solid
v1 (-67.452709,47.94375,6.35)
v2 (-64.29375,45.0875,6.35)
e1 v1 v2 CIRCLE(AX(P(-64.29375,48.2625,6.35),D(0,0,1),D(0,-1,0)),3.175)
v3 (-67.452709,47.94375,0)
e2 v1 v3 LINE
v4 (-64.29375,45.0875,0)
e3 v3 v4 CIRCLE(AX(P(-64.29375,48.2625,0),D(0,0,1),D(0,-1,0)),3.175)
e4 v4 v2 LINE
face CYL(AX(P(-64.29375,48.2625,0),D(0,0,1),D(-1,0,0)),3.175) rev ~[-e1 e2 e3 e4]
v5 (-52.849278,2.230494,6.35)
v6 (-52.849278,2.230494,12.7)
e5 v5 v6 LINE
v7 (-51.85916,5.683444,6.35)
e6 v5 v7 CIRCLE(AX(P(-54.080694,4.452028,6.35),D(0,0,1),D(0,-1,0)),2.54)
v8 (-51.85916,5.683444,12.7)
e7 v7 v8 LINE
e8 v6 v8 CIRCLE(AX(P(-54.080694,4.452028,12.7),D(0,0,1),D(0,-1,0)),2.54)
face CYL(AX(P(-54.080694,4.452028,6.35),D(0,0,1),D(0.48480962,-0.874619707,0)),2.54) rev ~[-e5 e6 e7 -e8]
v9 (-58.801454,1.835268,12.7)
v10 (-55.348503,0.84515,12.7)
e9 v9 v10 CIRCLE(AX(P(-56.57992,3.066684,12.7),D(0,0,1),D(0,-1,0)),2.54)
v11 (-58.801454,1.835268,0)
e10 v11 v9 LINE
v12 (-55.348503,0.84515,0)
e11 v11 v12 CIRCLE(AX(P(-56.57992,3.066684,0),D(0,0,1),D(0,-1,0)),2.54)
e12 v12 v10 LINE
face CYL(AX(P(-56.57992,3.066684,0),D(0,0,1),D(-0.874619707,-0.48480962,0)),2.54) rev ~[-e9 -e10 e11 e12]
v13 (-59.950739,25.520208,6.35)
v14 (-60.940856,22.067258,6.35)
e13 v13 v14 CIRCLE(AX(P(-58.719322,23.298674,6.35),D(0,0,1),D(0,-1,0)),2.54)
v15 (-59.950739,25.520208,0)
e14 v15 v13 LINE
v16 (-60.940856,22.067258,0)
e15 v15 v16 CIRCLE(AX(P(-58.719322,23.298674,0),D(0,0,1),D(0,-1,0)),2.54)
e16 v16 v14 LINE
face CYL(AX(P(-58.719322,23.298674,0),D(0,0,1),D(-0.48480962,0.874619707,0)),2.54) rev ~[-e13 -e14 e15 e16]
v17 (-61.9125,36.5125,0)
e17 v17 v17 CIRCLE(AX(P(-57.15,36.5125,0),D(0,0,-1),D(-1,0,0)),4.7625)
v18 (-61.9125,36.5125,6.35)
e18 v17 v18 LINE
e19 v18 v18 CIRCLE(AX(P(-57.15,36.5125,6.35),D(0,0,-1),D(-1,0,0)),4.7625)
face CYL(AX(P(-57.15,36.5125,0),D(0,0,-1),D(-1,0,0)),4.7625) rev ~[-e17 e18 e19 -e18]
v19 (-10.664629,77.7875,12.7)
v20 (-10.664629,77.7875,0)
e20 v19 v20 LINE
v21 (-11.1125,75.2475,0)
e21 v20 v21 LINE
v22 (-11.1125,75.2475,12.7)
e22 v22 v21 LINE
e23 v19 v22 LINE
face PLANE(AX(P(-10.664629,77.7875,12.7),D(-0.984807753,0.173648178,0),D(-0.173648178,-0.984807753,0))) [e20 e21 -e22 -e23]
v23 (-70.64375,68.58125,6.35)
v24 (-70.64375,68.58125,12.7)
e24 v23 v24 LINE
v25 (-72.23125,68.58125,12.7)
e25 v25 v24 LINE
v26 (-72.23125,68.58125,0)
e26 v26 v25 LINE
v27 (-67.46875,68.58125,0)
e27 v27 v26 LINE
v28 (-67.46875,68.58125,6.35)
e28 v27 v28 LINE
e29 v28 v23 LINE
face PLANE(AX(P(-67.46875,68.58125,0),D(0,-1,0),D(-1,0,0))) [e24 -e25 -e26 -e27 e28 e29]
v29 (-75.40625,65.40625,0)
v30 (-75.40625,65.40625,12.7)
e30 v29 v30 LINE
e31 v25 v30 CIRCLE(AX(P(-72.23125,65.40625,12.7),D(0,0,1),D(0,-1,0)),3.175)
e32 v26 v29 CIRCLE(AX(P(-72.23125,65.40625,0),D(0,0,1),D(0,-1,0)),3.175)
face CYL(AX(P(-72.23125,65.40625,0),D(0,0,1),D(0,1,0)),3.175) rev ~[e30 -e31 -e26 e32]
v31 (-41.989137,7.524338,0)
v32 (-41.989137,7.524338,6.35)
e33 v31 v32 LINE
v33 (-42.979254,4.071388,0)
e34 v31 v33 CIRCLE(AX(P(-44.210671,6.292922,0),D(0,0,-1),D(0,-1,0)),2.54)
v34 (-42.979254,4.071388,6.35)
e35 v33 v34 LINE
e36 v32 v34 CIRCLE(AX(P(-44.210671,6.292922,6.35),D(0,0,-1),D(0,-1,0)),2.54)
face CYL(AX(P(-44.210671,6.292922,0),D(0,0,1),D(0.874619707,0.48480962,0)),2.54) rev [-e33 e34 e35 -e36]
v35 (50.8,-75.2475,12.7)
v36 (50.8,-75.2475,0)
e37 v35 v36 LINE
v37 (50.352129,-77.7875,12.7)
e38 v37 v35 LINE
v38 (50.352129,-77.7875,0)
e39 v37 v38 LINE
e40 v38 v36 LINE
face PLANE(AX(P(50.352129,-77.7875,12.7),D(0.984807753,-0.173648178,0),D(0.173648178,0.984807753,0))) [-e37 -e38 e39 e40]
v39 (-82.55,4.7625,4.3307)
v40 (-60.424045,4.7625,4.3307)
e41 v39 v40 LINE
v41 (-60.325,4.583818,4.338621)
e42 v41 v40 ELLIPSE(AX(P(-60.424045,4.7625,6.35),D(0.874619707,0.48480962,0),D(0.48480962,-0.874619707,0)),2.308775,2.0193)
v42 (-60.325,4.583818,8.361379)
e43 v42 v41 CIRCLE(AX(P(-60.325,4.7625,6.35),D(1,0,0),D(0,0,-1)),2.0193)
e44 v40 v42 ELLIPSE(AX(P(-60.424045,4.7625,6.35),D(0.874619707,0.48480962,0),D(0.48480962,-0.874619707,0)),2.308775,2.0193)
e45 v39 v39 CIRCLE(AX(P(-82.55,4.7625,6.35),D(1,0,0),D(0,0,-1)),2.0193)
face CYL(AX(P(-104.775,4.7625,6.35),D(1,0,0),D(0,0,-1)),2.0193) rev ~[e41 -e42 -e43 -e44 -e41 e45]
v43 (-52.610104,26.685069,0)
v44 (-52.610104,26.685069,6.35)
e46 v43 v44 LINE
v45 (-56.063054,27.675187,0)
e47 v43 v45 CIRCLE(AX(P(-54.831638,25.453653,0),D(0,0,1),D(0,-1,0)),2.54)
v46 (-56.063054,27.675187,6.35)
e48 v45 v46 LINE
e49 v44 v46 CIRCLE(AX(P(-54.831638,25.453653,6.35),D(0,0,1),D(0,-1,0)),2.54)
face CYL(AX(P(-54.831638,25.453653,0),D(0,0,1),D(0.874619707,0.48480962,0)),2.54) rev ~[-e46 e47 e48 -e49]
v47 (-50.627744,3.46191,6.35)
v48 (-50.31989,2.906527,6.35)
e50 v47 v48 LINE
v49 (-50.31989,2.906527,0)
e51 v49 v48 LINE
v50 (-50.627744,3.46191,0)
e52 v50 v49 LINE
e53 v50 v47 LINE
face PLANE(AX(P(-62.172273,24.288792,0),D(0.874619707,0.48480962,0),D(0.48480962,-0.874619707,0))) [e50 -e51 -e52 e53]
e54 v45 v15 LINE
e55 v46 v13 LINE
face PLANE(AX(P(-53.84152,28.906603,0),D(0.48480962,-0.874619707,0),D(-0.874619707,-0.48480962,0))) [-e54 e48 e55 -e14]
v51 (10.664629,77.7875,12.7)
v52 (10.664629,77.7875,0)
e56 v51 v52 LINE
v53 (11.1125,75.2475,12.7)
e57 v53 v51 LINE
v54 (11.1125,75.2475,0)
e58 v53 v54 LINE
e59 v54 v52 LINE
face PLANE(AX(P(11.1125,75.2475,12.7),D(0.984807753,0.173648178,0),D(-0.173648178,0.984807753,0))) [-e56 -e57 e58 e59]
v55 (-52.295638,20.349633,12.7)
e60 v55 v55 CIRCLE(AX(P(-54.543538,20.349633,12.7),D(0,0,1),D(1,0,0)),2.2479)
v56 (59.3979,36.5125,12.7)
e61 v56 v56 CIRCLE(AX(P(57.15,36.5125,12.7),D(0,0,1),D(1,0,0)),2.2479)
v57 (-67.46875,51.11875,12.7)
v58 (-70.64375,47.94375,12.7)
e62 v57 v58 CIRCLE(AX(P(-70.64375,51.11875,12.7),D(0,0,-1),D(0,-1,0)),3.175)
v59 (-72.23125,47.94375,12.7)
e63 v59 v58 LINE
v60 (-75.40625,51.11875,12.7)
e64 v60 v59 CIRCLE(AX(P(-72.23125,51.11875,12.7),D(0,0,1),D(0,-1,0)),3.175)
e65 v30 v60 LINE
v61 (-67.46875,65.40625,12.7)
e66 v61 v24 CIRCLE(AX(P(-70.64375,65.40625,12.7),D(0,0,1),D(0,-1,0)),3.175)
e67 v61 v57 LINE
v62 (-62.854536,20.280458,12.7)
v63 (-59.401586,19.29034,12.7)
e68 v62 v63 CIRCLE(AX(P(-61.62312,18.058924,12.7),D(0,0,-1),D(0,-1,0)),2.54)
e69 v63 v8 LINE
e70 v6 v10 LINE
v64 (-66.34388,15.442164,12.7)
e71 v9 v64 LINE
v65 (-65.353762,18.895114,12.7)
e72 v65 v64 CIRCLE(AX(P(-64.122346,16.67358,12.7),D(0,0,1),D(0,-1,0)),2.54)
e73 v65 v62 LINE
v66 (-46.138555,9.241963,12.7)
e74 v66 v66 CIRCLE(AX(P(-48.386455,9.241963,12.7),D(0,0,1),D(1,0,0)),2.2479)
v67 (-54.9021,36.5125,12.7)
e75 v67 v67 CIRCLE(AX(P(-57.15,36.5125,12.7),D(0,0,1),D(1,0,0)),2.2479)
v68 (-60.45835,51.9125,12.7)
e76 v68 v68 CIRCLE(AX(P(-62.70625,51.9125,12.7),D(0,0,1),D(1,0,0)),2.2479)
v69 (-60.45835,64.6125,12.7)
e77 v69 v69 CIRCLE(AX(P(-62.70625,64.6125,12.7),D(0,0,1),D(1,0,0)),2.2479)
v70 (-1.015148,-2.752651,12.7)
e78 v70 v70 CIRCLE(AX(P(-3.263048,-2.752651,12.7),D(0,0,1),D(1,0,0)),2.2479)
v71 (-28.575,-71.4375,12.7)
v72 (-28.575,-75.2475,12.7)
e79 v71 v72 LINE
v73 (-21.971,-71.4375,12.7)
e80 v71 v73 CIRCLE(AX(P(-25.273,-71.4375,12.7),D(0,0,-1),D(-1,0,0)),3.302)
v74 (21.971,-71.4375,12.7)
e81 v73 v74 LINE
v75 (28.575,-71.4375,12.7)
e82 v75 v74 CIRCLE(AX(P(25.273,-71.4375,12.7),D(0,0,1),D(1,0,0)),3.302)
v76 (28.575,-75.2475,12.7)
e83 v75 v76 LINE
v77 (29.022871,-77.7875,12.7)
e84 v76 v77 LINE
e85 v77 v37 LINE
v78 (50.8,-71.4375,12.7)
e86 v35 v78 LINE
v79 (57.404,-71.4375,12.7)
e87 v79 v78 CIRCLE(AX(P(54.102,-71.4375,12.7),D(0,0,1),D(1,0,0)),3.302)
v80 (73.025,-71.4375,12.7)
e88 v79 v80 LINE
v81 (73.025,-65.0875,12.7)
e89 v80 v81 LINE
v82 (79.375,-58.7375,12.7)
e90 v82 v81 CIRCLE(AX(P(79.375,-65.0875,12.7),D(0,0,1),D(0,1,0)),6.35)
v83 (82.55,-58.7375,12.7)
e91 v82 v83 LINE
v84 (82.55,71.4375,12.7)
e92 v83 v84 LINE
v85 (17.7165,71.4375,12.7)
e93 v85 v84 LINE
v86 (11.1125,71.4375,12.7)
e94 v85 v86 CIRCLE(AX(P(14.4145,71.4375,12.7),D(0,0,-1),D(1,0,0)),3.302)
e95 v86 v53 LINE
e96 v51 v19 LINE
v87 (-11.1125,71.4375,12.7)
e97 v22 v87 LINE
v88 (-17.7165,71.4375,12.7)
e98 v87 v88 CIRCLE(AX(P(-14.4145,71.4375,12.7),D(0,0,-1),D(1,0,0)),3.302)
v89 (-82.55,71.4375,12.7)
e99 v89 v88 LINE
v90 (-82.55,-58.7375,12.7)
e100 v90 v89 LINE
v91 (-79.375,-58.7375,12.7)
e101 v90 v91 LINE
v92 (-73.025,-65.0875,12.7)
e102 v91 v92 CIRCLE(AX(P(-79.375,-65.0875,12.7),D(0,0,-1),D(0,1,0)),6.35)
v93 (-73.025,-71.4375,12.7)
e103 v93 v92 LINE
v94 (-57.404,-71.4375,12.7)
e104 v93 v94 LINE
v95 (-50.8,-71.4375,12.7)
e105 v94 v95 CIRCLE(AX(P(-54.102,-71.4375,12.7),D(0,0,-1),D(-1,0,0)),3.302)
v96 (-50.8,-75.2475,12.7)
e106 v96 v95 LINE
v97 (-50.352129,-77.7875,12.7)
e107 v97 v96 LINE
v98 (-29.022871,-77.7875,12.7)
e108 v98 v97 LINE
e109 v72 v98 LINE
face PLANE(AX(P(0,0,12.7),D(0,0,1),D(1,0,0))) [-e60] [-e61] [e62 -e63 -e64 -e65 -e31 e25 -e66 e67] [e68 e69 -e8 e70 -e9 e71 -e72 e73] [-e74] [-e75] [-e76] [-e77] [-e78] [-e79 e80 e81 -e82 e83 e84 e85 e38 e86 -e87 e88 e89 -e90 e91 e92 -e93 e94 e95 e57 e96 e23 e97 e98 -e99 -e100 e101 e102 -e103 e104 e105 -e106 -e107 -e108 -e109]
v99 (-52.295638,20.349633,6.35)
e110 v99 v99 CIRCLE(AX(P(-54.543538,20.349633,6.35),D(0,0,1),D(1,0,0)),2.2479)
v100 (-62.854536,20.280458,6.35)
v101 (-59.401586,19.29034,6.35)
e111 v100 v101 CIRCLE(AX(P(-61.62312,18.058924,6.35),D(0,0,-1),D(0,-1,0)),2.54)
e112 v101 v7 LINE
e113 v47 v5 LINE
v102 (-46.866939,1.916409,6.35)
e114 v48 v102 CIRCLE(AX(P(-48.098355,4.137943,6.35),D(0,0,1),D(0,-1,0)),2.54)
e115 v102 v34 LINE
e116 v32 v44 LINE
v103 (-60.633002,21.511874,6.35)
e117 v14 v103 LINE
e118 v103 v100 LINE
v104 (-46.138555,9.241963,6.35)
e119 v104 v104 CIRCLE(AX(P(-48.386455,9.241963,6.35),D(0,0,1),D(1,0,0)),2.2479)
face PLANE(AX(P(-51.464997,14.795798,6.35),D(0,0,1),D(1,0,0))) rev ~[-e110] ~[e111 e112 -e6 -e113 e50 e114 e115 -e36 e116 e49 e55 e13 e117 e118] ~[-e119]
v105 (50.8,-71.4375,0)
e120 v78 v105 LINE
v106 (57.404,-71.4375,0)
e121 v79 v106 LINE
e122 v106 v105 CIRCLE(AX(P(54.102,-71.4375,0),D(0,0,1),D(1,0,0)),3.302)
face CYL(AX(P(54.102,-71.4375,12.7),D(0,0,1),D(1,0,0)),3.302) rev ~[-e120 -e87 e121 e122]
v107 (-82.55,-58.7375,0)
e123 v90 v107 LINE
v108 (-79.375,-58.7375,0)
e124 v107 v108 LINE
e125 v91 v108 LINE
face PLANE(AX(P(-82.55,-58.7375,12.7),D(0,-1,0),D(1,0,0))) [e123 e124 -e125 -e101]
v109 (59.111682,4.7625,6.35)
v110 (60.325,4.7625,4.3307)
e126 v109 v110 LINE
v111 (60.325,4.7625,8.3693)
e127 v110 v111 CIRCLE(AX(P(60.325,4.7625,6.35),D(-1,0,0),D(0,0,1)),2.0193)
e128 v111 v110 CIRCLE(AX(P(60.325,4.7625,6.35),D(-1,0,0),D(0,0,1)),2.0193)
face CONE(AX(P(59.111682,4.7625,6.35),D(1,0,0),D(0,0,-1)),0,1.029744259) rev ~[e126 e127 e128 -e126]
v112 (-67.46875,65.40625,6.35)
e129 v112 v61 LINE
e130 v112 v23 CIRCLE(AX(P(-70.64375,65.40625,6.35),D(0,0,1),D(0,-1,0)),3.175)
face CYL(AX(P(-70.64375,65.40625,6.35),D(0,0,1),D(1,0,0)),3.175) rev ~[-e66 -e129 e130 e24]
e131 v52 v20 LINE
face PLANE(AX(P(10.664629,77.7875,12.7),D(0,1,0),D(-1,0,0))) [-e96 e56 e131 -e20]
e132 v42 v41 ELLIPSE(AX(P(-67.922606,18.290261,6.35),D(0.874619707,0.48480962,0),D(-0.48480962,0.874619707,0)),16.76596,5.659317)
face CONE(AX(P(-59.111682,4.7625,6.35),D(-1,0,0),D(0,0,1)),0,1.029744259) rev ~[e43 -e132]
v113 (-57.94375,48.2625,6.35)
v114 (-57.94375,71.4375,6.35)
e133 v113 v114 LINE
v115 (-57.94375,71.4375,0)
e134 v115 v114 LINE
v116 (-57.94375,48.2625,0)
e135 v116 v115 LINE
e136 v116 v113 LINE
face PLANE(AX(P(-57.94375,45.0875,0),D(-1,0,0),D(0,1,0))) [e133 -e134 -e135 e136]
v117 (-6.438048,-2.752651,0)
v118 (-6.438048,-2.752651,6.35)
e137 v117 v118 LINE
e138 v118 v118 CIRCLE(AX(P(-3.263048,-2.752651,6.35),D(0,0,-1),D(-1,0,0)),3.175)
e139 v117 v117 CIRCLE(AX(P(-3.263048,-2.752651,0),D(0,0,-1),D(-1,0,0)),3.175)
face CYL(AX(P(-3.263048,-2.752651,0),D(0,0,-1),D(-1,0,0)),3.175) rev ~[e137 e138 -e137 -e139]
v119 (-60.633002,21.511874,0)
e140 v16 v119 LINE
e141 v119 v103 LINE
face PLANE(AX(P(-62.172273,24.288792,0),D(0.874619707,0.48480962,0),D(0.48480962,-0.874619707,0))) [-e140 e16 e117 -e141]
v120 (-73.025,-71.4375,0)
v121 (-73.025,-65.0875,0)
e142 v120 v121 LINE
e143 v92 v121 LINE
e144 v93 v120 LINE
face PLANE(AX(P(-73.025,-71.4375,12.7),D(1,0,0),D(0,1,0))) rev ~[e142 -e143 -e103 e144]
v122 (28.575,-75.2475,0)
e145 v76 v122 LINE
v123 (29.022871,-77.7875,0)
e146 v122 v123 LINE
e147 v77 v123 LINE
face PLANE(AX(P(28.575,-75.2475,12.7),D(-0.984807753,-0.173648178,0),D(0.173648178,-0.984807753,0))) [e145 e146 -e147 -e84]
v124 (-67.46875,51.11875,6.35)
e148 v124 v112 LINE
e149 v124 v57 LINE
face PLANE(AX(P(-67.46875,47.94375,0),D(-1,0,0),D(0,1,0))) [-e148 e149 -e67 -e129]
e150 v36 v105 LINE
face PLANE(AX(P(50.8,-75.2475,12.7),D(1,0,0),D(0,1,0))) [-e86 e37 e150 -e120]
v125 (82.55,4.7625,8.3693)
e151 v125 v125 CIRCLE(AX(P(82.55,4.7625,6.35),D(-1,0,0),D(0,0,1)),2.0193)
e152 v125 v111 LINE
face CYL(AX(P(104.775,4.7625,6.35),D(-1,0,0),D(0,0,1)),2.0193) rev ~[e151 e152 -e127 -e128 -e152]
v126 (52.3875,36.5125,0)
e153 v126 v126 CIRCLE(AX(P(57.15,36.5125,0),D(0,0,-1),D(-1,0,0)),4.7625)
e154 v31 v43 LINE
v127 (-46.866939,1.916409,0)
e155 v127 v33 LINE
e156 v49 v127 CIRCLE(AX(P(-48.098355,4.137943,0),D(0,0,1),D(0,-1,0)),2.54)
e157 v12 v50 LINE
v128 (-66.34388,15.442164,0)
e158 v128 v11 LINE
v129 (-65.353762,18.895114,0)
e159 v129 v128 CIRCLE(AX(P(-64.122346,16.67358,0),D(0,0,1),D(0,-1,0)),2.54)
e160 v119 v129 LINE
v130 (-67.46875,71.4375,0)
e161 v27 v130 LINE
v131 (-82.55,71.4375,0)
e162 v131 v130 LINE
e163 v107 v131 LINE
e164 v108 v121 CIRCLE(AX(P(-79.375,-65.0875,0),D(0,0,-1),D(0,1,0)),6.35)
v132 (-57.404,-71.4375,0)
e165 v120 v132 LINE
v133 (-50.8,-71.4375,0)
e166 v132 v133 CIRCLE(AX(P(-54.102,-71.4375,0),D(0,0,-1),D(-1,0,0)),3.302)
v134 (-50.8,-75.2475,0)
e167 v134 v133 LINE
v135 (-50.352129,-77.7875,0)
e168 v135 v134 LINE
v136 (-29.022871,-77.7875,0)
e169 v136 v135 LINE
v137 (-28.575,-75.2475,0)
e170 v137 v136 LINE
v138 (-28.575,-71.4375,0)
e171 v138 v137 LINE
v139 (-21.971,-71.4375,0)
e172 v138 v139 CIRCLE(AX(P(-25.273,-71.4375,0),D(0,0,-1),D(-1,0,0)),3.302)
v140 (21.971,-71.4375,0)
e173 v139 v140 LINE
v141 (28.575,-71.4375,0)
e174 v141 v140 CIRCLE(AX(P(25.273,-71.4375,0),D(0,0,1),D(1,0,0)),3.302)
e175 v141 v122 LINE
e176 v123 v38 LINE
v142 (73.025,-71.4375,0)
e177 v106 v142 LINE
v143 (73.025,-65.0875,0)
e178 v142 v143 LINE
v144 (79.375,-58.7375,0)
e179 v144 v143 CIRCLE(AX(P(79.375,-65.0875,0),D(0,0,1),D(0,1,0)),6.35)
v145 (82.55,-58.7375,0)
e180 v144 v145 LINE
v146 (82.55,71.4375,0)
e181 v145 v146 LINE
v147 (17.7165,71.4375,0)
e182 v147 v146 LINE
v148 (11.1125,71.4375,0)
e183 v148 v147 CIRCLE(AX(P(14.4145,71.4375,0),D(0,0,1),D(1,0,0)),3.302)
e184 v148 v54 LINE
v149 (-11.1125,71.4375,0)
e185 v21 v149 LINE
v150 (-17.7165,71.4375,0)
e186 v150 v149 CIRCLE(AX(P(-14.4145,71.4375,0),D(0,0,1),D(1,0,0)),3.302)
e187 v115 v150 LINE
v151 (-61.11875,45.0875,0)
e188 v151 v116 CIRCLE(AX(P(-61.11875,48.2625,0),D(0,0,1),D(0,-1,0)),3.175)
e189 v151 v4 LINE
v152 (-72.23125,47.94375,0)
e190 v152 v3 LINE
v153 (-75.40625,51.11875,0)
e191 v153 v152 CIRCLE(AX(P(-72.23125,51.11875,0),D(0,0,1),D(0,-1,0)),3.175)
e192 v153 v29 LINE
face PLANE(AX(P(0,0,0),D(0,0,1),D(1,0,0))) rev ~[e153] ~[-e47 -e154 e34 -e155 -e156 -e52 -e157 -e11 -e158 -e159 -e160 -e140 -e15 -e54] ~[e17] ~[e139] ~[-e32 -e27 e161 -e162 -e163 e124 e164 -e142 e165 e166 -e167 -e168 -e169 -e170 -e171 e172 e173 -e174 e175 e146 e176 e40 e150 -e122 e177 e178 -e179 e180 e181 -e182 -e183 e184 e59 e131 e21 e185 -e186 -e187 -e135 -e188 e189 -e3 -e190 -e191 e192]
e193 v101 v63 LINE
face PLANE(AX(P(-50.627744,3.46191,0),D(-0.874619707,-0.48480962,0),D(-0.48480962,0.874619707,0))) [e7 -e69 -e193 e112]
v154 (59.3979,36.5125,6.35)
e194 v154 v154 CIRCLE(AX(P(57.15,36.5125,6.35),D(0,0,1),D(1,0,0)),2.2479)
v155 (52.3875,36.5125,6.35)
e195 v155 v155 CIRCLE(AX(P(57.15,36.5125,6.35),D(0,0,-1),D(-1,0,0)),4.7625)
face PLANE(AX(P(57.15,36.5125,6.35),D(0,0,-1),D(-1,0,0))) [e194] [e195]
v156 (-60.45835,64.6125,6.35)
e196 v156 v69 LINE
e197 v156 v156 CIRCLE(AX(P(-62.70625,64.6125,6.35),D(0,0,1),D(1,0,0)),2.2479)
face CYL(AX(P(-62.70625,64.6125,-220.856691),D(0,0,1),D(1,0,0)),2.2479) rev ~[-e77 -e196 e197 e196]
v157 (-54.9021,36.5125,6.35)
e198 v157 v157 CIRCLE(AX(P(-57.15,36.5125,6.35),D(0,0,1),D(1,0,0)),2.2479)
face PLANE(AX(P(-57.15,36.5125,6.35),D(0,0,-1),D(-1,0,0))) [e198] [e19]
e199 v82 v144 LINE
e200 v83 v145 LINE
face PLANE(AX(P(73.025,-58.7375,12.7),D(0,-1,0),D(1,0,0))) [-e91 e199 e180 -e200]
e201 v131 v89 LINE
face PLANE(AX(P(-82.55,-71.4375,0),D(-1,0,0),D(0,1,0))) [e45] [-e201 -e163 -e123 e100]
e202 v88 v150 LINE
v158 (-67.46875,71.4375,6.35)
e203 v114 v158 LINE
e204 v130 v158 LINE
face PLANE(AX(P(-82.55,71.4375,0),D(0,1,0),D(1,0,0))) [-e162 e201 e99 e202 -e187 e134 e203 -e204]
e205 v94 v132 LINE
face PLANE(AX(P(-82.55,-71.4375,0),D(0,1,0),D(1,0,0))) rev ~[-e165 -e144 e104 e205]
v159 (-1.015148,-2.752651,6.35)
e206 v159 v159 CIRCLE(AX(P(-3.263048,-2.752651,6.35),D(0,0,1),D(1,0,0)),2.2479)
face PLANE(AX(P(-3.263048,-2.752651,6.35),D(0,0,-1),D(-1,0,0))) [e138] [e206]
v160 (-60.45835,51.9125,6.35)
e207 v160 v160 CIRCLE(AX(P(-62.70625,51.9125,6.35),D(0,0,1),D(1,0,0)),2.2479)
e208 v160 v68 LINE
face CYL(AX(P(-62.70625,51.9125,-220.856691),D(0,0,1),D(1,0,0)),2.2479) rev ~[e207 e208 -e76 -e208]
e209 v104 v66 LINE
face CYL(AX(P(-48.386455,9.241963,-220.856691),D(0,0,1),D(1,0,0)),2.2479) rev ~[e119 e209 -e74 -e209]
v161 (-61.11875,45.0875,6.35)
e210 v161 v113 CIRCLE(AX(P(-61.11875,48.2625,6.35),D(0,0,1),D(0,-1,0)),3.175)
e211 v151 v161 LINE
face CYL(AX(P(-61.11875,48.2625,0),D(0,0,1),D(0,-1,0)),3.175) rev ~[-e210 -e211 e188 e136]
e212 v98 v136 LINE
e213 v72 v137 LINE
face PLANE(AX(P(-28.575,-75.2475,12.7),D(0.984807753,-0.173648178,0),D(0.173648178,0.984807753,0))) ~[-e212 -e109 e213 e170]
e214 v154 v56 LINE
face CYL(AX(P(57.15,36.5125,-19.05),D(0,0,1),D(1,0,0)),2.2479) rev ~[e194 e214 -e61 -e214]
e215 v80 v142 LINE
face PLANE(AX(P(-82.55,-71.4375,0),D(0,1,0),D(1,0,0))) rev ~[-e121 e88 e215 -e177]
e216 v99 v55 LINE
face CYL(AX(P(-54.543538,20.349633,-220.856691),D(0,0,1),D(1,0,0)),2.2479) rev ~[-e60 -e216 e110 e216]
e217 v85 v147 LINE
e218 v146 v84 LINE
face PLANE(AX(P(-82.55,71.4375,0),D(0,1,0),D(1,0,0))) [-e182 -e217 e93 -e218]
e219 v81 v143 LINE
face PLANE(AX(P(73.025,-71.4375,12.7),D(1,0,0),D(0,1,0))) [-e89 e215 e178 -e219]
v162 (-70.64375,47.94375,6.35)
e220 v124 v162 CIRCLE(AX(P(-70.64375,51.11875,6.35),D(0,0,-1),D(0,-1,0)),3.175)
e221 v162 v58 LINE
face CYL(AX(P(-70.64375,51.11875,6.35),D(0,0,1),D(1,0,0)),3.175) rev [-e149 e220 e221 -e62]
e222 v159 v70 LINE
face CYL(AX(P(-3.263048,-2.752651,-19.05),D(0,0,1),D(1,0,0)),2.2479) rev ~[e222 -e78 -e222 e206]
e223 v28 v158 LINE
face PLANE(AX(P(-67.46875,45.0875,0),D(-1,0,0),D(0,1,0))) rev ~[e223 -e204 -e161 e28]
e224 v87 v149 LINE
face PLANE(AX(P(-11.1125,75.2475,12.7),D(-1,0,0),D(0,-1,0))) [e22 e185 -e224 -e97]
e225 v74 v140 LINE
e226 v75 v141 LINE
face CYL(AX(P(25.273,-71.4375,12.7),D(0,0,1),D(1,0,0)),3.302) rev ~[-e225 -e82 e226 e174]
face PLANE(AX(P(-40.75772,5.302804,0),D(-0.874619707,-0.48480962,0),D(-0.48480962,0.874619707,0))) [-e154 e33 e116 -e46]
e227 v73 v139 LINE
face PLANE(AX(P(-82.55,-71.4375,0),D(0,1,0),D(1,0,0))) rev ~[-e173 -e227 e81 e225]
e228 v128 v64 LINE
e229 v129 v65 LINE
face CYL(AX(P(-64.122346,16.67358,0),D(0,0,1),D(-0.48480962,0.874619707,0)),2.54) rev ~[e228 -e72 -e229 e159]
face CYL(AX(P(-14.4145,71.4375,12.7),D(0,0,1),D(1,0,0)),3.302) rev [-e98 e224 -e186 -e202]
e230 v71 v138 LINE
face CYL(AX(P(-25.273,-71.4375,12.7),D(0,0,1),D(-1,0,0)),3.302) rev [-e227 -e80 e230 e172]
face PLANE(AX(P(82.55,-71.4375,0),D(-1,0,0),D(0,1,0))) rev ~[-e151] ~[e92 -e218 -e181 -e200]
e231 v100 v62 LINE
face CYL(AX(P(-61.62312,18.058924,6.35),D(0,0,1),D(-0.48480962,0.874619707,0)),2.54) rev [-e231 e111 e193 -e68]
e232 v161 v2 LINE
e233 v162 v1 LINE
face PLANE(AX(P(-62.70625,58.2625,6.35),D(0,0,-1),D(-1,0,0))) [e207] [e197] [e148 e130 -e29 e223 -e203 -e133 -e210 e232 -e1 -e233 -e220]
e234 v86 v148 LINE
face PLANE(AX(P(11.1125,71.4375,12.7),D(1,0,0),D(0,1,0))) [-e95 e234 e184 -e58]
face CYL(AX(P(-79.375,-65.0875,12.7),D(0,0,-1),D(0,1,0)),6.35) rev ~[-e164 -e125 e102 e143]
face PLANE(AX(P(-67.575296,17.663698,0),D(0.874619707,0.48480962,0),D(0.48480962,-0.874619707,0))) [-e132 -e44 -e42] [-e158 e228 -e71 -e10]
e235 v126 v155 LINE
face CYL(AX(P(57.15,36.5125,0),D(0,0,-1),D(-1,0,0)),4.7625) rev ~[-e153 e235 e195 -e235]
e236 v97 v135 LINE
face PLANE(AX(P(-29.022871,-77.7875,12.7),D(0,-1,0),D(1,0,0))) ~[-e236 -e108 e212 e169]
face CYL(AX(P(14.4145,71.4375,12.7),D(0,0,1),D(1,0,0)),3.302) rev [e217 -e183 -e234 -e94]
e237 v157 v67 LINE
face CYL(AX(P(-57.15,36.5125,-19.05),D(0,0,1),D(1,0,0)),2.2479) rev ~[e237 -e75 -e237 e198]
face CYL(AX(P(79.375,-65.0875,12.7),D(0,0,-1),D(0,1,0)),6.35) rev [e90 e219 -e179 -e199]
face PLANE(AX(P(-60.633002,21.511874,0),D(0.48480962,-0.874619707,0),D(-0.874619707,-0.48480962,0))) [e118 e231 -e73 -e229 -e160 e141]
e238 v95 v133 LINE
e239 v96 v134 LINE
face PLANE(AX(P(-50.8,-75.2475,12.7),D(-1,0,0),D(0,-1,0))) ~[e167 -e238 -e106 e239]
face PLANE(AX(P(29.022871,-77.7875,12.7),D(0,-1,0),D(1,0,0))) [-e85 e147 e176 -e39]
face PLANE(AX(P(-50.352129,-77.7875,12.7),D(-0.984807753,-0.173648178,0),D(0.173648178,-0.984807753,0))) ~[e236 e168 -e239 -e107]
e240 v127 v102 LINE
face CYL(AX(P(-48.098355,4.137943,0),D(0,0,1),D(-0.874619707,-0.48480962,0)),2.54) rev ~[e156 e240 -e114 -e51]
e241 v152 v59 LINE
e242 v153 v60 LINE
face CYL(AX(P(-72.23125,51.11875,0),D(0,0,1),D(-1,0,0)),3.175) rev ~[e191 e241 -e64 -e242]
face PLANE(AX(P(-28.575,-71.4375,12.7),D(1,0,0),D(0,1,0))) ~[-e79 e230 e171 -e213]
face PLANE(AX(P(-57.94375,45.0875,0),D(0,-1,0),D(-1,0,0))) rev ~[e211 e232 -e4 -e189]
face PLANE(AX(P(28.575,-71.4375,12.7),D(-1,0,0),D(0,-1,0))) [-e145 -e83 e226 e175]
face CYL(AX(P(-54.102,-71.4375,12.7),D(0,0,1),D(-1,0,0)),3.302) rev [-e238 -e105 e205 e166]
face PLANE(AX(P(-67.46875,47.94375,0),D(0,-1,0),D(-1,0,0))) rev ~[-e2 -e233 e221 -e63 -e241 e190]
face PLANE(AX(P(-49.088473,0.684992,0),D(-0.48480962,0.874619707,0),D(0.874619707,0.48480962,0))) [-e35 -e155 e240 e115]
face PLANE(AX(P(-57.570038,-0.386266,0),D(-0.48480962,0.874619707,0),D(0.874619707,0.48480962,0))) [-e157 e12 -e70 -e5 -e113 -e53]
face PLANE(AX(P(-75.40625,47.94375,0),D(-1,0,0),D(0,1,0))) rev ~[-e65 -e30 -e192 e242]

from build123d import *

# Parameters (mm, degrees)
SKETCH1_W                       = 165.1
SKETCH1_H                       = 142.875
BOSS_EXTRUDE1_DEPTH             = 12.7
BOSS_EXTRUDE2_DEPTH             = 12.7
CUT_EXTRUDE1_REACH              = 116.135
BOSS_EXTRUDE3_DEPTH             = 12.7
CUT_EXTRUDE2_DEPTH              = 12.7
F_21_0_159_DIAMETER_HOLE1_D     = 4.0386
F_21_0_159_DIAMETER_HOLE1_DEPTH = 22.225
F_21_0_159_DIAMETER_HOLE1_TIP   = 1.213317848
F_21_0_159_DIAMETER_HOLE2_D     = 4.0386
F_21_0_159_DIAMETER_HOLE2_DEPTH = 22.225
F_21_0_159_DIAMETER_HOLE2_TIP   = 1.213317848
SKETCH21_R                      = 4.7625
SKETCH21_R_2                    = 3.175
CUT_EXTRUDE10_DEPTH             = 6.35
F_8_CLEARANCE_HOLE1_D           = 4.4958
F_8_CLEARANCE_HOLE1_DEPTH       = 19.05
F_8_CLEARANCE_HOLE1_TIP         = 1.350674586
SKETCH24_W                      = 9.525
SKETCH24_H                      = 12.7
CUT_EXTRUDE11_DEPTH             = 115.134515622
FILLET1_R                       = 6.35
SKETCH29_W                      = 9.525
SKETCH29_H                      = 26.350000132
CUT_EXTRUDE12_DEPTH             = 6.35
FILLET2_R                       = 3.175
F_8_CLEARANCE_HOLE2_D           = 4.4958
SKETCH32_W                      = 7.9375
SKETCH32_H                      = 20.6375
CUT_EXTRUDE13_DEPTH             = 115.134515622
CUT_EXTRUDE14_START             = -6.35
CUT_EXTRUDE14_DEPTH             = 6.35
FILLET3_R                       = 3.175
CUT_EXTRUDE15_DEPTH             = 6.35
F_8_CLEARANCE_HOLE3_D           = 4.4958
CUT_EXTRUDE16_DEPTH             = 115.134515622
FILLET4_R                       = 2.54


with BuildPart() as part:
    # Sketch1 → Boss-Extrude1 (new body)
    with BuildSketch(Plane.XY):
        Rectangle(SKETCH1_W, SKETCH1_H)
    extrude(amount=BOSS_EXTRUDE1_DEPTH)

    # Sketch2 → Boss-Extrude2 (add)
    with BuildSketch(Plane.XY.offset(12.7)):
        Polygon((-11.1125, 71.4375), (11.1125, 71.4375), (11.1125, 75.2475), (10.664629469, 77.7875), (-10.664629469, 77.7875), (-11.1125, 75.2475), align=None)
    extrude(amount=-BOSS_EXTRUDE2_DEPTH)

    # Sketch4 → Cut-Extrude1 (cut, up to next)
    with BuildSketch(Plane.XY.offset(12.7), mode=Mode.PRIVATE) as cut_extrude1_sk1:
        with BuildLine():
            Line((-17.7165, 71.4375), (-11.1125, 71.4375))
            ThreePointArc((-11.1125, 71.4375), (-14.4145, 68.1355), (-17.7165, 71.4375))
        make_face()
    cut_extrude1_tool1 = extrude(cut_extrude1_sk1.sketch, amount=-CUT_EXTRUDE1_REACH, mode=Mode.PRIVATE) & part.part
    # Sketch4 → Cut-Extrude1 (cut, up to next)
    with BuildSketch(Plane.XY.offset(12.7), mode=Mode.PRIVATE) as cut_extrude1_sk2:
        with BuildLine():
            Line((11.1125, 71.4375), (17.7165, 71.4375))
            ThreePointArc((17.7165, 71.4375), (14.4145, 68.1355), (11.1125, 71.4375))
        make_face()
    cut_extrude1_tool2 = extrude(cut_extrude1_sk2.sketch, amount=-CUT_EXTRUDE1_REACH, mode=Mode.PRIVATE) & part.part
    add(cut_extrude1_tool1.solids().sort_by_distance((-14.4145, 70.036088, 12.7))[0], mode=Mode.SUBTRACT)
    add(cut_extrude1_tool2.solids().sort_by_distance((14.4145, 70.036088, 12.7))[0], mode=Mode.SUBTRACT)

    # Sketch5 → Boss-Extrude3 (add)
    with BuildSketch(Plane.XY.offset(12.7)):
        Polygon((50.8, -71.4375), (28.575, -71.4375), (28.575, -75.2475), (29.022870531, -77.7875), (50.352129469, -77.7875), (50.8, -75.2475), align=None)
    boss_extrude3 = extrude(amount=-BOSS_EXTRUDE3_DEPTH)

    # Sketch6 → Cut-Extrude2 (cut)
    with BuildSketch(Plane.XY.offset(12.7)):
        with BuildLine():
            Line((21.971, -71.4375), (28.575, -71.4375))
            ThreePointArc((28.575, -71.4375), (25.273, -68.1355), (21.971, -71.4375))
        make_face()
        with BuildLine():
            Line((50.8, -71.4375), (57.404, -71.4375))
            ThreePointArc((57.404, -71.4375), (54.102, -68.1355), (50.8, -71.4375))
        make_face()
    cut_extrude2 = extrude(amount=-CUT_EXTRUDE2_DEPTH, mode=Mode.SUBTRACT)

    # Mirror1: Boss-Extrude3, Cut-Extrude2 across plane
    add(boss_extrude3.mirror(Plane(origin=(0, 0, 0), x_dir=(0, 0, 1), z_dir=(1, 0, 0))))
    add(cut_extrude2.mirror(Plane(origin=(0, 0, 0), x_dir=(0, 0, 1), z_dir=(1, 0, 0))), mode=Mode.SUBTRACT)

    # #21 (0.159) Diameter Hole1
    with Locations(Plane(origin=(82.55, 0, 0), x_dir=(0, 0, -1), z_dir=(1, 0, 0))):
        with Locations((-6.35, 4.7625)):
            Hole(F_21_0_159_DIAMETER_HOLE1_D / 2, depth=F_21_0_159_DIAMETER_HOLE1_DEPTH)
            with Locations((0, 0, -(F_21_0_159_DIAMETER_HOLE1_DEPTH + F_21_0_159_DIAMETER_HOLE1_TIP / 2))):  # 118° drill point
                Cone(0, F_21_0_159_DIAMETER_HOLE1_D / 2, F_21_0_159_DIAMETER_HOLE1_TIP, mode=Mode.SUBTRACT)

    # #21 (0.159) Diameter Hole2
    with Locations(Plane.ZY.offset(82.55)):
        with Locations((6.35, 4.7625)):
            Hole(F_21_0_159_DIAMETER_HOLE2_D / 2, depth=F_21_0_159_DIAMETER_HOLE2_DEPTH)
            with Locations((0, 0, -(F_21_0_159_DIAMETER_HOLE2_DEPTH + F_21_0_159_DIAMETER_HOLE2_TIP / 2))):  # 118° drill point
                Cone(0, F_21_0_159_DIAMETER_HOLE2_D / 2, F_21_0_159_DIAMETER_HOLE2_TIP, mode=Mode.SUBTRACT)

    # Sketch21 → Cut-Extrude10 (cut)
    with BuildSketch(Plane(origin=(0, 0, 0), x_dir=(-1, 0, 0), z_dir=(0, 0, -1))):
        with Locations((-57.15, 36.5125)):
            Circle(SKETCH21_R)
        with Locations((57.15, 36.5125)):
            Circle(SKETCH21_R)
        with Locations((3.263048163, -2.752650538)):
            Circle(SKETCH21_R_2)
    extrude(amount=-CUT_EXTRUDE10_DEPTH, mode=Mode.SUBTRACT)

    # #8 Clearance Hole1
    with Locations(Plane(origin=(0, 0, 0), x_dir=(-1, 0, 0), z_dir=(0, 0, -1))):
        with Locations((-57.15, 36.5125), (3.263048163, -2.752650538), (57.15, 36.5125)):
            Hole(F_8_CLEARANCE_HOLE1_D / 2, depth=F_8_CLEARANCE_HOLE1_DEPTH)
            with Locations((0, 0, -(F_8_CLEARANCE_HOLE1_DEPTH + F_8_CLEARANCE_HOLE1_TIP / 2))):  # 118° drill point
                Cone(0, F_8_CLEARANCE_HOLE1_D / 2, F_8_CLEARANCE_HOLE1_TIP, mode=Mode.SUBTRACT)

    # Sketch24 → Cut-Extrude11 (cut, through all)
    with BuildSketch(Plane.XY.offset(12.7)):
        with Locations((-77.7875, -65.0875)):
            Rectangle(SKETCH24_W, SKETCH24_H)
        with Locations((77.7875, -65.0875)):
            Rectangle(SKETCH24_W, SKETCH24_H)
    extrude(amount=-CUT_EXTRUDE11_DEPTH, mode=Mode.SUBTRACT)

    # Fillet1
    fillet1_edges = [part.edges().sort_by_distance(p)[0] for p in [
        (-73.025, -58.7375, 6.35),
        (73.025, -58.7375, 6.35),
    ]]
    fillet(fillet1_edges, radius=FILLET1_R)

    # Sketch29 → Cut-Extrude12 (cut)
    with BuildSketch(Plane(origin=(0, 0, 0), x_dir=(-1, 0, 0), z_dir=(0, 0, -1))):
        with Locations((62.70625, 58.262499934)):
            Rectangle(SKETCH29_W, SKETCH29_H)
    extrude(amount=-CUT_EXTRUDE12_DEPTH, mode=Mode.SUBTRACT)

    # Fillet2
    fillet2_edges = [part.edges().sort_by_distance(p)[0] for p in [
        (-57.94375, 45.087499868, 3.175),
        (-67.46875, 45.087499868, 3.175),
    ]]
    fillet(fillet2_edges, radius=FILLET2_R)

    # #8 Clearance Hole2 (through all)
    with Locations(Plane(origin=(0, 0, 6.35), x_dir=(-1, 0, 0), z_dir=(0, 0, -1))):
        with Locations((62.70625, 64.612499934), (62.70625, 51.912499934)):
            Hole(F_8_CLEARANCE_HOLE2_D / 2)

    # Sketch32 → Cut-Extrude13 (cut, through all)
    with BuildSketch(Plane(origin=(0, 0, 0), x_dir=(-1, 0, 0), z_dir=(0, 0, -1))):
        with Locations((71.4375, 58.262499934)):
            Rectangle(SKETCH32_W, SKETCH32_H)
    extrude(amount=-CUT_EXTRUDE13_DEPTH, mode=Mode.SUBTRACT)

    # Sketch33 → Cut-Extrude14 (cut)
    with BuildSketch(Plane(origin=(0, 0, 0), x_dir=(-1, 0, 0), z_dir=(0, 0, -1)).offset(CUT_EXTRUDE14_START)):
        with BuildLine():
            Line((67.46875, 47.943749934), (67.45270924, 47.943749934))
            ThreePointArc((67.45270924, 47.943749934), (67.464737274, 48.10292322), (67.46875, 48.262499868))
            Line((67.46875, 48.262499868), (67.46875, 47.943749934))
        make_face()
    extrude(amount=CUT_EXTRUDE14_DEPTH, mode=Mode.SUBTRACT)

    # Fillet3
    fillet3_edges = [part.edges().sort_by_distance(p)[0] for p in [
        (-67.46875, 47.943749934, 9.525),
        (-67.46875, 68.581249934, 9.525),
        (-75.40625, 68.581249934, 6.35),
        (-75.40625, 47.943749934, 6.35),
    ]]
    fillet(fillet3_edges, radius=FILLET3_R)

    # Sketch34 → Cut-Extrude15 (cut)
    with BuildSketch(Plane(origin=(0, 0, 0), x_dir=(-1, 0, 0), z_dir=(0, 0, -1))):
        Polygon((40.757720371, 5.302804118), (53.841519997, 28.906603465), (62.172272708, 24.288791832), (49.088473081, 0.684992485), align=None)
    extrude(amount=-CUT_EXTRUDE15_DEPTH, mode=Mode.SUBTRACT)

    # #8 Clearance Hole3 (through all)
    with Locations(Plane(origin=(0, 0, 6.35), x_dir=(-1, 0, 0), z_dir=(0, 0, -1))):
        with Locations((54.543537628, 20.349633115), (48.386455451, 9.241962835)):
            Hole(F_8_CLEARANCE_HOLE3_D / 2)

    # Sketch37 → Cut-Extrude16 (cut, through all)
    with BuildSketch(Plane(origin=(0, 0, 0), x_dir=(-1, 0, 0), z_dir=(0, 0, -1))):
        Polygon((60.633002164, 21.511874262), (67.575296089, 17.663697901), (57.570037551, -0.386266305), (50.627743626, 3.461910055), align=None)
    extrude(amount=-CUT_EXTRUDE16_DEPTH, mode=Mode.SUBTRACT)

    # Fillet4
    fillet4_edges = [part.edges().sort_by_distance(p)[0] for p in [
        (-49.088473081, 0.684992485, 3.175),
        (-40.757720371, 5.302804118, 3.175),
        (-53.841519997, 28.906603465, 3.175),
        (-62.172272708, 24.288791832, 3.175),
        (-67.575296089, 17.663697901, 6.35),
        (-50.627743626, 3.461910055, 9.525),
        (-57.570037551, -0.386266305, 6.35),
        (-60.633002164, 21.511874262, 9.525),
    ]]
    fillet(fillet4_edges, radius=FILLET4_R)


solid = part.part
